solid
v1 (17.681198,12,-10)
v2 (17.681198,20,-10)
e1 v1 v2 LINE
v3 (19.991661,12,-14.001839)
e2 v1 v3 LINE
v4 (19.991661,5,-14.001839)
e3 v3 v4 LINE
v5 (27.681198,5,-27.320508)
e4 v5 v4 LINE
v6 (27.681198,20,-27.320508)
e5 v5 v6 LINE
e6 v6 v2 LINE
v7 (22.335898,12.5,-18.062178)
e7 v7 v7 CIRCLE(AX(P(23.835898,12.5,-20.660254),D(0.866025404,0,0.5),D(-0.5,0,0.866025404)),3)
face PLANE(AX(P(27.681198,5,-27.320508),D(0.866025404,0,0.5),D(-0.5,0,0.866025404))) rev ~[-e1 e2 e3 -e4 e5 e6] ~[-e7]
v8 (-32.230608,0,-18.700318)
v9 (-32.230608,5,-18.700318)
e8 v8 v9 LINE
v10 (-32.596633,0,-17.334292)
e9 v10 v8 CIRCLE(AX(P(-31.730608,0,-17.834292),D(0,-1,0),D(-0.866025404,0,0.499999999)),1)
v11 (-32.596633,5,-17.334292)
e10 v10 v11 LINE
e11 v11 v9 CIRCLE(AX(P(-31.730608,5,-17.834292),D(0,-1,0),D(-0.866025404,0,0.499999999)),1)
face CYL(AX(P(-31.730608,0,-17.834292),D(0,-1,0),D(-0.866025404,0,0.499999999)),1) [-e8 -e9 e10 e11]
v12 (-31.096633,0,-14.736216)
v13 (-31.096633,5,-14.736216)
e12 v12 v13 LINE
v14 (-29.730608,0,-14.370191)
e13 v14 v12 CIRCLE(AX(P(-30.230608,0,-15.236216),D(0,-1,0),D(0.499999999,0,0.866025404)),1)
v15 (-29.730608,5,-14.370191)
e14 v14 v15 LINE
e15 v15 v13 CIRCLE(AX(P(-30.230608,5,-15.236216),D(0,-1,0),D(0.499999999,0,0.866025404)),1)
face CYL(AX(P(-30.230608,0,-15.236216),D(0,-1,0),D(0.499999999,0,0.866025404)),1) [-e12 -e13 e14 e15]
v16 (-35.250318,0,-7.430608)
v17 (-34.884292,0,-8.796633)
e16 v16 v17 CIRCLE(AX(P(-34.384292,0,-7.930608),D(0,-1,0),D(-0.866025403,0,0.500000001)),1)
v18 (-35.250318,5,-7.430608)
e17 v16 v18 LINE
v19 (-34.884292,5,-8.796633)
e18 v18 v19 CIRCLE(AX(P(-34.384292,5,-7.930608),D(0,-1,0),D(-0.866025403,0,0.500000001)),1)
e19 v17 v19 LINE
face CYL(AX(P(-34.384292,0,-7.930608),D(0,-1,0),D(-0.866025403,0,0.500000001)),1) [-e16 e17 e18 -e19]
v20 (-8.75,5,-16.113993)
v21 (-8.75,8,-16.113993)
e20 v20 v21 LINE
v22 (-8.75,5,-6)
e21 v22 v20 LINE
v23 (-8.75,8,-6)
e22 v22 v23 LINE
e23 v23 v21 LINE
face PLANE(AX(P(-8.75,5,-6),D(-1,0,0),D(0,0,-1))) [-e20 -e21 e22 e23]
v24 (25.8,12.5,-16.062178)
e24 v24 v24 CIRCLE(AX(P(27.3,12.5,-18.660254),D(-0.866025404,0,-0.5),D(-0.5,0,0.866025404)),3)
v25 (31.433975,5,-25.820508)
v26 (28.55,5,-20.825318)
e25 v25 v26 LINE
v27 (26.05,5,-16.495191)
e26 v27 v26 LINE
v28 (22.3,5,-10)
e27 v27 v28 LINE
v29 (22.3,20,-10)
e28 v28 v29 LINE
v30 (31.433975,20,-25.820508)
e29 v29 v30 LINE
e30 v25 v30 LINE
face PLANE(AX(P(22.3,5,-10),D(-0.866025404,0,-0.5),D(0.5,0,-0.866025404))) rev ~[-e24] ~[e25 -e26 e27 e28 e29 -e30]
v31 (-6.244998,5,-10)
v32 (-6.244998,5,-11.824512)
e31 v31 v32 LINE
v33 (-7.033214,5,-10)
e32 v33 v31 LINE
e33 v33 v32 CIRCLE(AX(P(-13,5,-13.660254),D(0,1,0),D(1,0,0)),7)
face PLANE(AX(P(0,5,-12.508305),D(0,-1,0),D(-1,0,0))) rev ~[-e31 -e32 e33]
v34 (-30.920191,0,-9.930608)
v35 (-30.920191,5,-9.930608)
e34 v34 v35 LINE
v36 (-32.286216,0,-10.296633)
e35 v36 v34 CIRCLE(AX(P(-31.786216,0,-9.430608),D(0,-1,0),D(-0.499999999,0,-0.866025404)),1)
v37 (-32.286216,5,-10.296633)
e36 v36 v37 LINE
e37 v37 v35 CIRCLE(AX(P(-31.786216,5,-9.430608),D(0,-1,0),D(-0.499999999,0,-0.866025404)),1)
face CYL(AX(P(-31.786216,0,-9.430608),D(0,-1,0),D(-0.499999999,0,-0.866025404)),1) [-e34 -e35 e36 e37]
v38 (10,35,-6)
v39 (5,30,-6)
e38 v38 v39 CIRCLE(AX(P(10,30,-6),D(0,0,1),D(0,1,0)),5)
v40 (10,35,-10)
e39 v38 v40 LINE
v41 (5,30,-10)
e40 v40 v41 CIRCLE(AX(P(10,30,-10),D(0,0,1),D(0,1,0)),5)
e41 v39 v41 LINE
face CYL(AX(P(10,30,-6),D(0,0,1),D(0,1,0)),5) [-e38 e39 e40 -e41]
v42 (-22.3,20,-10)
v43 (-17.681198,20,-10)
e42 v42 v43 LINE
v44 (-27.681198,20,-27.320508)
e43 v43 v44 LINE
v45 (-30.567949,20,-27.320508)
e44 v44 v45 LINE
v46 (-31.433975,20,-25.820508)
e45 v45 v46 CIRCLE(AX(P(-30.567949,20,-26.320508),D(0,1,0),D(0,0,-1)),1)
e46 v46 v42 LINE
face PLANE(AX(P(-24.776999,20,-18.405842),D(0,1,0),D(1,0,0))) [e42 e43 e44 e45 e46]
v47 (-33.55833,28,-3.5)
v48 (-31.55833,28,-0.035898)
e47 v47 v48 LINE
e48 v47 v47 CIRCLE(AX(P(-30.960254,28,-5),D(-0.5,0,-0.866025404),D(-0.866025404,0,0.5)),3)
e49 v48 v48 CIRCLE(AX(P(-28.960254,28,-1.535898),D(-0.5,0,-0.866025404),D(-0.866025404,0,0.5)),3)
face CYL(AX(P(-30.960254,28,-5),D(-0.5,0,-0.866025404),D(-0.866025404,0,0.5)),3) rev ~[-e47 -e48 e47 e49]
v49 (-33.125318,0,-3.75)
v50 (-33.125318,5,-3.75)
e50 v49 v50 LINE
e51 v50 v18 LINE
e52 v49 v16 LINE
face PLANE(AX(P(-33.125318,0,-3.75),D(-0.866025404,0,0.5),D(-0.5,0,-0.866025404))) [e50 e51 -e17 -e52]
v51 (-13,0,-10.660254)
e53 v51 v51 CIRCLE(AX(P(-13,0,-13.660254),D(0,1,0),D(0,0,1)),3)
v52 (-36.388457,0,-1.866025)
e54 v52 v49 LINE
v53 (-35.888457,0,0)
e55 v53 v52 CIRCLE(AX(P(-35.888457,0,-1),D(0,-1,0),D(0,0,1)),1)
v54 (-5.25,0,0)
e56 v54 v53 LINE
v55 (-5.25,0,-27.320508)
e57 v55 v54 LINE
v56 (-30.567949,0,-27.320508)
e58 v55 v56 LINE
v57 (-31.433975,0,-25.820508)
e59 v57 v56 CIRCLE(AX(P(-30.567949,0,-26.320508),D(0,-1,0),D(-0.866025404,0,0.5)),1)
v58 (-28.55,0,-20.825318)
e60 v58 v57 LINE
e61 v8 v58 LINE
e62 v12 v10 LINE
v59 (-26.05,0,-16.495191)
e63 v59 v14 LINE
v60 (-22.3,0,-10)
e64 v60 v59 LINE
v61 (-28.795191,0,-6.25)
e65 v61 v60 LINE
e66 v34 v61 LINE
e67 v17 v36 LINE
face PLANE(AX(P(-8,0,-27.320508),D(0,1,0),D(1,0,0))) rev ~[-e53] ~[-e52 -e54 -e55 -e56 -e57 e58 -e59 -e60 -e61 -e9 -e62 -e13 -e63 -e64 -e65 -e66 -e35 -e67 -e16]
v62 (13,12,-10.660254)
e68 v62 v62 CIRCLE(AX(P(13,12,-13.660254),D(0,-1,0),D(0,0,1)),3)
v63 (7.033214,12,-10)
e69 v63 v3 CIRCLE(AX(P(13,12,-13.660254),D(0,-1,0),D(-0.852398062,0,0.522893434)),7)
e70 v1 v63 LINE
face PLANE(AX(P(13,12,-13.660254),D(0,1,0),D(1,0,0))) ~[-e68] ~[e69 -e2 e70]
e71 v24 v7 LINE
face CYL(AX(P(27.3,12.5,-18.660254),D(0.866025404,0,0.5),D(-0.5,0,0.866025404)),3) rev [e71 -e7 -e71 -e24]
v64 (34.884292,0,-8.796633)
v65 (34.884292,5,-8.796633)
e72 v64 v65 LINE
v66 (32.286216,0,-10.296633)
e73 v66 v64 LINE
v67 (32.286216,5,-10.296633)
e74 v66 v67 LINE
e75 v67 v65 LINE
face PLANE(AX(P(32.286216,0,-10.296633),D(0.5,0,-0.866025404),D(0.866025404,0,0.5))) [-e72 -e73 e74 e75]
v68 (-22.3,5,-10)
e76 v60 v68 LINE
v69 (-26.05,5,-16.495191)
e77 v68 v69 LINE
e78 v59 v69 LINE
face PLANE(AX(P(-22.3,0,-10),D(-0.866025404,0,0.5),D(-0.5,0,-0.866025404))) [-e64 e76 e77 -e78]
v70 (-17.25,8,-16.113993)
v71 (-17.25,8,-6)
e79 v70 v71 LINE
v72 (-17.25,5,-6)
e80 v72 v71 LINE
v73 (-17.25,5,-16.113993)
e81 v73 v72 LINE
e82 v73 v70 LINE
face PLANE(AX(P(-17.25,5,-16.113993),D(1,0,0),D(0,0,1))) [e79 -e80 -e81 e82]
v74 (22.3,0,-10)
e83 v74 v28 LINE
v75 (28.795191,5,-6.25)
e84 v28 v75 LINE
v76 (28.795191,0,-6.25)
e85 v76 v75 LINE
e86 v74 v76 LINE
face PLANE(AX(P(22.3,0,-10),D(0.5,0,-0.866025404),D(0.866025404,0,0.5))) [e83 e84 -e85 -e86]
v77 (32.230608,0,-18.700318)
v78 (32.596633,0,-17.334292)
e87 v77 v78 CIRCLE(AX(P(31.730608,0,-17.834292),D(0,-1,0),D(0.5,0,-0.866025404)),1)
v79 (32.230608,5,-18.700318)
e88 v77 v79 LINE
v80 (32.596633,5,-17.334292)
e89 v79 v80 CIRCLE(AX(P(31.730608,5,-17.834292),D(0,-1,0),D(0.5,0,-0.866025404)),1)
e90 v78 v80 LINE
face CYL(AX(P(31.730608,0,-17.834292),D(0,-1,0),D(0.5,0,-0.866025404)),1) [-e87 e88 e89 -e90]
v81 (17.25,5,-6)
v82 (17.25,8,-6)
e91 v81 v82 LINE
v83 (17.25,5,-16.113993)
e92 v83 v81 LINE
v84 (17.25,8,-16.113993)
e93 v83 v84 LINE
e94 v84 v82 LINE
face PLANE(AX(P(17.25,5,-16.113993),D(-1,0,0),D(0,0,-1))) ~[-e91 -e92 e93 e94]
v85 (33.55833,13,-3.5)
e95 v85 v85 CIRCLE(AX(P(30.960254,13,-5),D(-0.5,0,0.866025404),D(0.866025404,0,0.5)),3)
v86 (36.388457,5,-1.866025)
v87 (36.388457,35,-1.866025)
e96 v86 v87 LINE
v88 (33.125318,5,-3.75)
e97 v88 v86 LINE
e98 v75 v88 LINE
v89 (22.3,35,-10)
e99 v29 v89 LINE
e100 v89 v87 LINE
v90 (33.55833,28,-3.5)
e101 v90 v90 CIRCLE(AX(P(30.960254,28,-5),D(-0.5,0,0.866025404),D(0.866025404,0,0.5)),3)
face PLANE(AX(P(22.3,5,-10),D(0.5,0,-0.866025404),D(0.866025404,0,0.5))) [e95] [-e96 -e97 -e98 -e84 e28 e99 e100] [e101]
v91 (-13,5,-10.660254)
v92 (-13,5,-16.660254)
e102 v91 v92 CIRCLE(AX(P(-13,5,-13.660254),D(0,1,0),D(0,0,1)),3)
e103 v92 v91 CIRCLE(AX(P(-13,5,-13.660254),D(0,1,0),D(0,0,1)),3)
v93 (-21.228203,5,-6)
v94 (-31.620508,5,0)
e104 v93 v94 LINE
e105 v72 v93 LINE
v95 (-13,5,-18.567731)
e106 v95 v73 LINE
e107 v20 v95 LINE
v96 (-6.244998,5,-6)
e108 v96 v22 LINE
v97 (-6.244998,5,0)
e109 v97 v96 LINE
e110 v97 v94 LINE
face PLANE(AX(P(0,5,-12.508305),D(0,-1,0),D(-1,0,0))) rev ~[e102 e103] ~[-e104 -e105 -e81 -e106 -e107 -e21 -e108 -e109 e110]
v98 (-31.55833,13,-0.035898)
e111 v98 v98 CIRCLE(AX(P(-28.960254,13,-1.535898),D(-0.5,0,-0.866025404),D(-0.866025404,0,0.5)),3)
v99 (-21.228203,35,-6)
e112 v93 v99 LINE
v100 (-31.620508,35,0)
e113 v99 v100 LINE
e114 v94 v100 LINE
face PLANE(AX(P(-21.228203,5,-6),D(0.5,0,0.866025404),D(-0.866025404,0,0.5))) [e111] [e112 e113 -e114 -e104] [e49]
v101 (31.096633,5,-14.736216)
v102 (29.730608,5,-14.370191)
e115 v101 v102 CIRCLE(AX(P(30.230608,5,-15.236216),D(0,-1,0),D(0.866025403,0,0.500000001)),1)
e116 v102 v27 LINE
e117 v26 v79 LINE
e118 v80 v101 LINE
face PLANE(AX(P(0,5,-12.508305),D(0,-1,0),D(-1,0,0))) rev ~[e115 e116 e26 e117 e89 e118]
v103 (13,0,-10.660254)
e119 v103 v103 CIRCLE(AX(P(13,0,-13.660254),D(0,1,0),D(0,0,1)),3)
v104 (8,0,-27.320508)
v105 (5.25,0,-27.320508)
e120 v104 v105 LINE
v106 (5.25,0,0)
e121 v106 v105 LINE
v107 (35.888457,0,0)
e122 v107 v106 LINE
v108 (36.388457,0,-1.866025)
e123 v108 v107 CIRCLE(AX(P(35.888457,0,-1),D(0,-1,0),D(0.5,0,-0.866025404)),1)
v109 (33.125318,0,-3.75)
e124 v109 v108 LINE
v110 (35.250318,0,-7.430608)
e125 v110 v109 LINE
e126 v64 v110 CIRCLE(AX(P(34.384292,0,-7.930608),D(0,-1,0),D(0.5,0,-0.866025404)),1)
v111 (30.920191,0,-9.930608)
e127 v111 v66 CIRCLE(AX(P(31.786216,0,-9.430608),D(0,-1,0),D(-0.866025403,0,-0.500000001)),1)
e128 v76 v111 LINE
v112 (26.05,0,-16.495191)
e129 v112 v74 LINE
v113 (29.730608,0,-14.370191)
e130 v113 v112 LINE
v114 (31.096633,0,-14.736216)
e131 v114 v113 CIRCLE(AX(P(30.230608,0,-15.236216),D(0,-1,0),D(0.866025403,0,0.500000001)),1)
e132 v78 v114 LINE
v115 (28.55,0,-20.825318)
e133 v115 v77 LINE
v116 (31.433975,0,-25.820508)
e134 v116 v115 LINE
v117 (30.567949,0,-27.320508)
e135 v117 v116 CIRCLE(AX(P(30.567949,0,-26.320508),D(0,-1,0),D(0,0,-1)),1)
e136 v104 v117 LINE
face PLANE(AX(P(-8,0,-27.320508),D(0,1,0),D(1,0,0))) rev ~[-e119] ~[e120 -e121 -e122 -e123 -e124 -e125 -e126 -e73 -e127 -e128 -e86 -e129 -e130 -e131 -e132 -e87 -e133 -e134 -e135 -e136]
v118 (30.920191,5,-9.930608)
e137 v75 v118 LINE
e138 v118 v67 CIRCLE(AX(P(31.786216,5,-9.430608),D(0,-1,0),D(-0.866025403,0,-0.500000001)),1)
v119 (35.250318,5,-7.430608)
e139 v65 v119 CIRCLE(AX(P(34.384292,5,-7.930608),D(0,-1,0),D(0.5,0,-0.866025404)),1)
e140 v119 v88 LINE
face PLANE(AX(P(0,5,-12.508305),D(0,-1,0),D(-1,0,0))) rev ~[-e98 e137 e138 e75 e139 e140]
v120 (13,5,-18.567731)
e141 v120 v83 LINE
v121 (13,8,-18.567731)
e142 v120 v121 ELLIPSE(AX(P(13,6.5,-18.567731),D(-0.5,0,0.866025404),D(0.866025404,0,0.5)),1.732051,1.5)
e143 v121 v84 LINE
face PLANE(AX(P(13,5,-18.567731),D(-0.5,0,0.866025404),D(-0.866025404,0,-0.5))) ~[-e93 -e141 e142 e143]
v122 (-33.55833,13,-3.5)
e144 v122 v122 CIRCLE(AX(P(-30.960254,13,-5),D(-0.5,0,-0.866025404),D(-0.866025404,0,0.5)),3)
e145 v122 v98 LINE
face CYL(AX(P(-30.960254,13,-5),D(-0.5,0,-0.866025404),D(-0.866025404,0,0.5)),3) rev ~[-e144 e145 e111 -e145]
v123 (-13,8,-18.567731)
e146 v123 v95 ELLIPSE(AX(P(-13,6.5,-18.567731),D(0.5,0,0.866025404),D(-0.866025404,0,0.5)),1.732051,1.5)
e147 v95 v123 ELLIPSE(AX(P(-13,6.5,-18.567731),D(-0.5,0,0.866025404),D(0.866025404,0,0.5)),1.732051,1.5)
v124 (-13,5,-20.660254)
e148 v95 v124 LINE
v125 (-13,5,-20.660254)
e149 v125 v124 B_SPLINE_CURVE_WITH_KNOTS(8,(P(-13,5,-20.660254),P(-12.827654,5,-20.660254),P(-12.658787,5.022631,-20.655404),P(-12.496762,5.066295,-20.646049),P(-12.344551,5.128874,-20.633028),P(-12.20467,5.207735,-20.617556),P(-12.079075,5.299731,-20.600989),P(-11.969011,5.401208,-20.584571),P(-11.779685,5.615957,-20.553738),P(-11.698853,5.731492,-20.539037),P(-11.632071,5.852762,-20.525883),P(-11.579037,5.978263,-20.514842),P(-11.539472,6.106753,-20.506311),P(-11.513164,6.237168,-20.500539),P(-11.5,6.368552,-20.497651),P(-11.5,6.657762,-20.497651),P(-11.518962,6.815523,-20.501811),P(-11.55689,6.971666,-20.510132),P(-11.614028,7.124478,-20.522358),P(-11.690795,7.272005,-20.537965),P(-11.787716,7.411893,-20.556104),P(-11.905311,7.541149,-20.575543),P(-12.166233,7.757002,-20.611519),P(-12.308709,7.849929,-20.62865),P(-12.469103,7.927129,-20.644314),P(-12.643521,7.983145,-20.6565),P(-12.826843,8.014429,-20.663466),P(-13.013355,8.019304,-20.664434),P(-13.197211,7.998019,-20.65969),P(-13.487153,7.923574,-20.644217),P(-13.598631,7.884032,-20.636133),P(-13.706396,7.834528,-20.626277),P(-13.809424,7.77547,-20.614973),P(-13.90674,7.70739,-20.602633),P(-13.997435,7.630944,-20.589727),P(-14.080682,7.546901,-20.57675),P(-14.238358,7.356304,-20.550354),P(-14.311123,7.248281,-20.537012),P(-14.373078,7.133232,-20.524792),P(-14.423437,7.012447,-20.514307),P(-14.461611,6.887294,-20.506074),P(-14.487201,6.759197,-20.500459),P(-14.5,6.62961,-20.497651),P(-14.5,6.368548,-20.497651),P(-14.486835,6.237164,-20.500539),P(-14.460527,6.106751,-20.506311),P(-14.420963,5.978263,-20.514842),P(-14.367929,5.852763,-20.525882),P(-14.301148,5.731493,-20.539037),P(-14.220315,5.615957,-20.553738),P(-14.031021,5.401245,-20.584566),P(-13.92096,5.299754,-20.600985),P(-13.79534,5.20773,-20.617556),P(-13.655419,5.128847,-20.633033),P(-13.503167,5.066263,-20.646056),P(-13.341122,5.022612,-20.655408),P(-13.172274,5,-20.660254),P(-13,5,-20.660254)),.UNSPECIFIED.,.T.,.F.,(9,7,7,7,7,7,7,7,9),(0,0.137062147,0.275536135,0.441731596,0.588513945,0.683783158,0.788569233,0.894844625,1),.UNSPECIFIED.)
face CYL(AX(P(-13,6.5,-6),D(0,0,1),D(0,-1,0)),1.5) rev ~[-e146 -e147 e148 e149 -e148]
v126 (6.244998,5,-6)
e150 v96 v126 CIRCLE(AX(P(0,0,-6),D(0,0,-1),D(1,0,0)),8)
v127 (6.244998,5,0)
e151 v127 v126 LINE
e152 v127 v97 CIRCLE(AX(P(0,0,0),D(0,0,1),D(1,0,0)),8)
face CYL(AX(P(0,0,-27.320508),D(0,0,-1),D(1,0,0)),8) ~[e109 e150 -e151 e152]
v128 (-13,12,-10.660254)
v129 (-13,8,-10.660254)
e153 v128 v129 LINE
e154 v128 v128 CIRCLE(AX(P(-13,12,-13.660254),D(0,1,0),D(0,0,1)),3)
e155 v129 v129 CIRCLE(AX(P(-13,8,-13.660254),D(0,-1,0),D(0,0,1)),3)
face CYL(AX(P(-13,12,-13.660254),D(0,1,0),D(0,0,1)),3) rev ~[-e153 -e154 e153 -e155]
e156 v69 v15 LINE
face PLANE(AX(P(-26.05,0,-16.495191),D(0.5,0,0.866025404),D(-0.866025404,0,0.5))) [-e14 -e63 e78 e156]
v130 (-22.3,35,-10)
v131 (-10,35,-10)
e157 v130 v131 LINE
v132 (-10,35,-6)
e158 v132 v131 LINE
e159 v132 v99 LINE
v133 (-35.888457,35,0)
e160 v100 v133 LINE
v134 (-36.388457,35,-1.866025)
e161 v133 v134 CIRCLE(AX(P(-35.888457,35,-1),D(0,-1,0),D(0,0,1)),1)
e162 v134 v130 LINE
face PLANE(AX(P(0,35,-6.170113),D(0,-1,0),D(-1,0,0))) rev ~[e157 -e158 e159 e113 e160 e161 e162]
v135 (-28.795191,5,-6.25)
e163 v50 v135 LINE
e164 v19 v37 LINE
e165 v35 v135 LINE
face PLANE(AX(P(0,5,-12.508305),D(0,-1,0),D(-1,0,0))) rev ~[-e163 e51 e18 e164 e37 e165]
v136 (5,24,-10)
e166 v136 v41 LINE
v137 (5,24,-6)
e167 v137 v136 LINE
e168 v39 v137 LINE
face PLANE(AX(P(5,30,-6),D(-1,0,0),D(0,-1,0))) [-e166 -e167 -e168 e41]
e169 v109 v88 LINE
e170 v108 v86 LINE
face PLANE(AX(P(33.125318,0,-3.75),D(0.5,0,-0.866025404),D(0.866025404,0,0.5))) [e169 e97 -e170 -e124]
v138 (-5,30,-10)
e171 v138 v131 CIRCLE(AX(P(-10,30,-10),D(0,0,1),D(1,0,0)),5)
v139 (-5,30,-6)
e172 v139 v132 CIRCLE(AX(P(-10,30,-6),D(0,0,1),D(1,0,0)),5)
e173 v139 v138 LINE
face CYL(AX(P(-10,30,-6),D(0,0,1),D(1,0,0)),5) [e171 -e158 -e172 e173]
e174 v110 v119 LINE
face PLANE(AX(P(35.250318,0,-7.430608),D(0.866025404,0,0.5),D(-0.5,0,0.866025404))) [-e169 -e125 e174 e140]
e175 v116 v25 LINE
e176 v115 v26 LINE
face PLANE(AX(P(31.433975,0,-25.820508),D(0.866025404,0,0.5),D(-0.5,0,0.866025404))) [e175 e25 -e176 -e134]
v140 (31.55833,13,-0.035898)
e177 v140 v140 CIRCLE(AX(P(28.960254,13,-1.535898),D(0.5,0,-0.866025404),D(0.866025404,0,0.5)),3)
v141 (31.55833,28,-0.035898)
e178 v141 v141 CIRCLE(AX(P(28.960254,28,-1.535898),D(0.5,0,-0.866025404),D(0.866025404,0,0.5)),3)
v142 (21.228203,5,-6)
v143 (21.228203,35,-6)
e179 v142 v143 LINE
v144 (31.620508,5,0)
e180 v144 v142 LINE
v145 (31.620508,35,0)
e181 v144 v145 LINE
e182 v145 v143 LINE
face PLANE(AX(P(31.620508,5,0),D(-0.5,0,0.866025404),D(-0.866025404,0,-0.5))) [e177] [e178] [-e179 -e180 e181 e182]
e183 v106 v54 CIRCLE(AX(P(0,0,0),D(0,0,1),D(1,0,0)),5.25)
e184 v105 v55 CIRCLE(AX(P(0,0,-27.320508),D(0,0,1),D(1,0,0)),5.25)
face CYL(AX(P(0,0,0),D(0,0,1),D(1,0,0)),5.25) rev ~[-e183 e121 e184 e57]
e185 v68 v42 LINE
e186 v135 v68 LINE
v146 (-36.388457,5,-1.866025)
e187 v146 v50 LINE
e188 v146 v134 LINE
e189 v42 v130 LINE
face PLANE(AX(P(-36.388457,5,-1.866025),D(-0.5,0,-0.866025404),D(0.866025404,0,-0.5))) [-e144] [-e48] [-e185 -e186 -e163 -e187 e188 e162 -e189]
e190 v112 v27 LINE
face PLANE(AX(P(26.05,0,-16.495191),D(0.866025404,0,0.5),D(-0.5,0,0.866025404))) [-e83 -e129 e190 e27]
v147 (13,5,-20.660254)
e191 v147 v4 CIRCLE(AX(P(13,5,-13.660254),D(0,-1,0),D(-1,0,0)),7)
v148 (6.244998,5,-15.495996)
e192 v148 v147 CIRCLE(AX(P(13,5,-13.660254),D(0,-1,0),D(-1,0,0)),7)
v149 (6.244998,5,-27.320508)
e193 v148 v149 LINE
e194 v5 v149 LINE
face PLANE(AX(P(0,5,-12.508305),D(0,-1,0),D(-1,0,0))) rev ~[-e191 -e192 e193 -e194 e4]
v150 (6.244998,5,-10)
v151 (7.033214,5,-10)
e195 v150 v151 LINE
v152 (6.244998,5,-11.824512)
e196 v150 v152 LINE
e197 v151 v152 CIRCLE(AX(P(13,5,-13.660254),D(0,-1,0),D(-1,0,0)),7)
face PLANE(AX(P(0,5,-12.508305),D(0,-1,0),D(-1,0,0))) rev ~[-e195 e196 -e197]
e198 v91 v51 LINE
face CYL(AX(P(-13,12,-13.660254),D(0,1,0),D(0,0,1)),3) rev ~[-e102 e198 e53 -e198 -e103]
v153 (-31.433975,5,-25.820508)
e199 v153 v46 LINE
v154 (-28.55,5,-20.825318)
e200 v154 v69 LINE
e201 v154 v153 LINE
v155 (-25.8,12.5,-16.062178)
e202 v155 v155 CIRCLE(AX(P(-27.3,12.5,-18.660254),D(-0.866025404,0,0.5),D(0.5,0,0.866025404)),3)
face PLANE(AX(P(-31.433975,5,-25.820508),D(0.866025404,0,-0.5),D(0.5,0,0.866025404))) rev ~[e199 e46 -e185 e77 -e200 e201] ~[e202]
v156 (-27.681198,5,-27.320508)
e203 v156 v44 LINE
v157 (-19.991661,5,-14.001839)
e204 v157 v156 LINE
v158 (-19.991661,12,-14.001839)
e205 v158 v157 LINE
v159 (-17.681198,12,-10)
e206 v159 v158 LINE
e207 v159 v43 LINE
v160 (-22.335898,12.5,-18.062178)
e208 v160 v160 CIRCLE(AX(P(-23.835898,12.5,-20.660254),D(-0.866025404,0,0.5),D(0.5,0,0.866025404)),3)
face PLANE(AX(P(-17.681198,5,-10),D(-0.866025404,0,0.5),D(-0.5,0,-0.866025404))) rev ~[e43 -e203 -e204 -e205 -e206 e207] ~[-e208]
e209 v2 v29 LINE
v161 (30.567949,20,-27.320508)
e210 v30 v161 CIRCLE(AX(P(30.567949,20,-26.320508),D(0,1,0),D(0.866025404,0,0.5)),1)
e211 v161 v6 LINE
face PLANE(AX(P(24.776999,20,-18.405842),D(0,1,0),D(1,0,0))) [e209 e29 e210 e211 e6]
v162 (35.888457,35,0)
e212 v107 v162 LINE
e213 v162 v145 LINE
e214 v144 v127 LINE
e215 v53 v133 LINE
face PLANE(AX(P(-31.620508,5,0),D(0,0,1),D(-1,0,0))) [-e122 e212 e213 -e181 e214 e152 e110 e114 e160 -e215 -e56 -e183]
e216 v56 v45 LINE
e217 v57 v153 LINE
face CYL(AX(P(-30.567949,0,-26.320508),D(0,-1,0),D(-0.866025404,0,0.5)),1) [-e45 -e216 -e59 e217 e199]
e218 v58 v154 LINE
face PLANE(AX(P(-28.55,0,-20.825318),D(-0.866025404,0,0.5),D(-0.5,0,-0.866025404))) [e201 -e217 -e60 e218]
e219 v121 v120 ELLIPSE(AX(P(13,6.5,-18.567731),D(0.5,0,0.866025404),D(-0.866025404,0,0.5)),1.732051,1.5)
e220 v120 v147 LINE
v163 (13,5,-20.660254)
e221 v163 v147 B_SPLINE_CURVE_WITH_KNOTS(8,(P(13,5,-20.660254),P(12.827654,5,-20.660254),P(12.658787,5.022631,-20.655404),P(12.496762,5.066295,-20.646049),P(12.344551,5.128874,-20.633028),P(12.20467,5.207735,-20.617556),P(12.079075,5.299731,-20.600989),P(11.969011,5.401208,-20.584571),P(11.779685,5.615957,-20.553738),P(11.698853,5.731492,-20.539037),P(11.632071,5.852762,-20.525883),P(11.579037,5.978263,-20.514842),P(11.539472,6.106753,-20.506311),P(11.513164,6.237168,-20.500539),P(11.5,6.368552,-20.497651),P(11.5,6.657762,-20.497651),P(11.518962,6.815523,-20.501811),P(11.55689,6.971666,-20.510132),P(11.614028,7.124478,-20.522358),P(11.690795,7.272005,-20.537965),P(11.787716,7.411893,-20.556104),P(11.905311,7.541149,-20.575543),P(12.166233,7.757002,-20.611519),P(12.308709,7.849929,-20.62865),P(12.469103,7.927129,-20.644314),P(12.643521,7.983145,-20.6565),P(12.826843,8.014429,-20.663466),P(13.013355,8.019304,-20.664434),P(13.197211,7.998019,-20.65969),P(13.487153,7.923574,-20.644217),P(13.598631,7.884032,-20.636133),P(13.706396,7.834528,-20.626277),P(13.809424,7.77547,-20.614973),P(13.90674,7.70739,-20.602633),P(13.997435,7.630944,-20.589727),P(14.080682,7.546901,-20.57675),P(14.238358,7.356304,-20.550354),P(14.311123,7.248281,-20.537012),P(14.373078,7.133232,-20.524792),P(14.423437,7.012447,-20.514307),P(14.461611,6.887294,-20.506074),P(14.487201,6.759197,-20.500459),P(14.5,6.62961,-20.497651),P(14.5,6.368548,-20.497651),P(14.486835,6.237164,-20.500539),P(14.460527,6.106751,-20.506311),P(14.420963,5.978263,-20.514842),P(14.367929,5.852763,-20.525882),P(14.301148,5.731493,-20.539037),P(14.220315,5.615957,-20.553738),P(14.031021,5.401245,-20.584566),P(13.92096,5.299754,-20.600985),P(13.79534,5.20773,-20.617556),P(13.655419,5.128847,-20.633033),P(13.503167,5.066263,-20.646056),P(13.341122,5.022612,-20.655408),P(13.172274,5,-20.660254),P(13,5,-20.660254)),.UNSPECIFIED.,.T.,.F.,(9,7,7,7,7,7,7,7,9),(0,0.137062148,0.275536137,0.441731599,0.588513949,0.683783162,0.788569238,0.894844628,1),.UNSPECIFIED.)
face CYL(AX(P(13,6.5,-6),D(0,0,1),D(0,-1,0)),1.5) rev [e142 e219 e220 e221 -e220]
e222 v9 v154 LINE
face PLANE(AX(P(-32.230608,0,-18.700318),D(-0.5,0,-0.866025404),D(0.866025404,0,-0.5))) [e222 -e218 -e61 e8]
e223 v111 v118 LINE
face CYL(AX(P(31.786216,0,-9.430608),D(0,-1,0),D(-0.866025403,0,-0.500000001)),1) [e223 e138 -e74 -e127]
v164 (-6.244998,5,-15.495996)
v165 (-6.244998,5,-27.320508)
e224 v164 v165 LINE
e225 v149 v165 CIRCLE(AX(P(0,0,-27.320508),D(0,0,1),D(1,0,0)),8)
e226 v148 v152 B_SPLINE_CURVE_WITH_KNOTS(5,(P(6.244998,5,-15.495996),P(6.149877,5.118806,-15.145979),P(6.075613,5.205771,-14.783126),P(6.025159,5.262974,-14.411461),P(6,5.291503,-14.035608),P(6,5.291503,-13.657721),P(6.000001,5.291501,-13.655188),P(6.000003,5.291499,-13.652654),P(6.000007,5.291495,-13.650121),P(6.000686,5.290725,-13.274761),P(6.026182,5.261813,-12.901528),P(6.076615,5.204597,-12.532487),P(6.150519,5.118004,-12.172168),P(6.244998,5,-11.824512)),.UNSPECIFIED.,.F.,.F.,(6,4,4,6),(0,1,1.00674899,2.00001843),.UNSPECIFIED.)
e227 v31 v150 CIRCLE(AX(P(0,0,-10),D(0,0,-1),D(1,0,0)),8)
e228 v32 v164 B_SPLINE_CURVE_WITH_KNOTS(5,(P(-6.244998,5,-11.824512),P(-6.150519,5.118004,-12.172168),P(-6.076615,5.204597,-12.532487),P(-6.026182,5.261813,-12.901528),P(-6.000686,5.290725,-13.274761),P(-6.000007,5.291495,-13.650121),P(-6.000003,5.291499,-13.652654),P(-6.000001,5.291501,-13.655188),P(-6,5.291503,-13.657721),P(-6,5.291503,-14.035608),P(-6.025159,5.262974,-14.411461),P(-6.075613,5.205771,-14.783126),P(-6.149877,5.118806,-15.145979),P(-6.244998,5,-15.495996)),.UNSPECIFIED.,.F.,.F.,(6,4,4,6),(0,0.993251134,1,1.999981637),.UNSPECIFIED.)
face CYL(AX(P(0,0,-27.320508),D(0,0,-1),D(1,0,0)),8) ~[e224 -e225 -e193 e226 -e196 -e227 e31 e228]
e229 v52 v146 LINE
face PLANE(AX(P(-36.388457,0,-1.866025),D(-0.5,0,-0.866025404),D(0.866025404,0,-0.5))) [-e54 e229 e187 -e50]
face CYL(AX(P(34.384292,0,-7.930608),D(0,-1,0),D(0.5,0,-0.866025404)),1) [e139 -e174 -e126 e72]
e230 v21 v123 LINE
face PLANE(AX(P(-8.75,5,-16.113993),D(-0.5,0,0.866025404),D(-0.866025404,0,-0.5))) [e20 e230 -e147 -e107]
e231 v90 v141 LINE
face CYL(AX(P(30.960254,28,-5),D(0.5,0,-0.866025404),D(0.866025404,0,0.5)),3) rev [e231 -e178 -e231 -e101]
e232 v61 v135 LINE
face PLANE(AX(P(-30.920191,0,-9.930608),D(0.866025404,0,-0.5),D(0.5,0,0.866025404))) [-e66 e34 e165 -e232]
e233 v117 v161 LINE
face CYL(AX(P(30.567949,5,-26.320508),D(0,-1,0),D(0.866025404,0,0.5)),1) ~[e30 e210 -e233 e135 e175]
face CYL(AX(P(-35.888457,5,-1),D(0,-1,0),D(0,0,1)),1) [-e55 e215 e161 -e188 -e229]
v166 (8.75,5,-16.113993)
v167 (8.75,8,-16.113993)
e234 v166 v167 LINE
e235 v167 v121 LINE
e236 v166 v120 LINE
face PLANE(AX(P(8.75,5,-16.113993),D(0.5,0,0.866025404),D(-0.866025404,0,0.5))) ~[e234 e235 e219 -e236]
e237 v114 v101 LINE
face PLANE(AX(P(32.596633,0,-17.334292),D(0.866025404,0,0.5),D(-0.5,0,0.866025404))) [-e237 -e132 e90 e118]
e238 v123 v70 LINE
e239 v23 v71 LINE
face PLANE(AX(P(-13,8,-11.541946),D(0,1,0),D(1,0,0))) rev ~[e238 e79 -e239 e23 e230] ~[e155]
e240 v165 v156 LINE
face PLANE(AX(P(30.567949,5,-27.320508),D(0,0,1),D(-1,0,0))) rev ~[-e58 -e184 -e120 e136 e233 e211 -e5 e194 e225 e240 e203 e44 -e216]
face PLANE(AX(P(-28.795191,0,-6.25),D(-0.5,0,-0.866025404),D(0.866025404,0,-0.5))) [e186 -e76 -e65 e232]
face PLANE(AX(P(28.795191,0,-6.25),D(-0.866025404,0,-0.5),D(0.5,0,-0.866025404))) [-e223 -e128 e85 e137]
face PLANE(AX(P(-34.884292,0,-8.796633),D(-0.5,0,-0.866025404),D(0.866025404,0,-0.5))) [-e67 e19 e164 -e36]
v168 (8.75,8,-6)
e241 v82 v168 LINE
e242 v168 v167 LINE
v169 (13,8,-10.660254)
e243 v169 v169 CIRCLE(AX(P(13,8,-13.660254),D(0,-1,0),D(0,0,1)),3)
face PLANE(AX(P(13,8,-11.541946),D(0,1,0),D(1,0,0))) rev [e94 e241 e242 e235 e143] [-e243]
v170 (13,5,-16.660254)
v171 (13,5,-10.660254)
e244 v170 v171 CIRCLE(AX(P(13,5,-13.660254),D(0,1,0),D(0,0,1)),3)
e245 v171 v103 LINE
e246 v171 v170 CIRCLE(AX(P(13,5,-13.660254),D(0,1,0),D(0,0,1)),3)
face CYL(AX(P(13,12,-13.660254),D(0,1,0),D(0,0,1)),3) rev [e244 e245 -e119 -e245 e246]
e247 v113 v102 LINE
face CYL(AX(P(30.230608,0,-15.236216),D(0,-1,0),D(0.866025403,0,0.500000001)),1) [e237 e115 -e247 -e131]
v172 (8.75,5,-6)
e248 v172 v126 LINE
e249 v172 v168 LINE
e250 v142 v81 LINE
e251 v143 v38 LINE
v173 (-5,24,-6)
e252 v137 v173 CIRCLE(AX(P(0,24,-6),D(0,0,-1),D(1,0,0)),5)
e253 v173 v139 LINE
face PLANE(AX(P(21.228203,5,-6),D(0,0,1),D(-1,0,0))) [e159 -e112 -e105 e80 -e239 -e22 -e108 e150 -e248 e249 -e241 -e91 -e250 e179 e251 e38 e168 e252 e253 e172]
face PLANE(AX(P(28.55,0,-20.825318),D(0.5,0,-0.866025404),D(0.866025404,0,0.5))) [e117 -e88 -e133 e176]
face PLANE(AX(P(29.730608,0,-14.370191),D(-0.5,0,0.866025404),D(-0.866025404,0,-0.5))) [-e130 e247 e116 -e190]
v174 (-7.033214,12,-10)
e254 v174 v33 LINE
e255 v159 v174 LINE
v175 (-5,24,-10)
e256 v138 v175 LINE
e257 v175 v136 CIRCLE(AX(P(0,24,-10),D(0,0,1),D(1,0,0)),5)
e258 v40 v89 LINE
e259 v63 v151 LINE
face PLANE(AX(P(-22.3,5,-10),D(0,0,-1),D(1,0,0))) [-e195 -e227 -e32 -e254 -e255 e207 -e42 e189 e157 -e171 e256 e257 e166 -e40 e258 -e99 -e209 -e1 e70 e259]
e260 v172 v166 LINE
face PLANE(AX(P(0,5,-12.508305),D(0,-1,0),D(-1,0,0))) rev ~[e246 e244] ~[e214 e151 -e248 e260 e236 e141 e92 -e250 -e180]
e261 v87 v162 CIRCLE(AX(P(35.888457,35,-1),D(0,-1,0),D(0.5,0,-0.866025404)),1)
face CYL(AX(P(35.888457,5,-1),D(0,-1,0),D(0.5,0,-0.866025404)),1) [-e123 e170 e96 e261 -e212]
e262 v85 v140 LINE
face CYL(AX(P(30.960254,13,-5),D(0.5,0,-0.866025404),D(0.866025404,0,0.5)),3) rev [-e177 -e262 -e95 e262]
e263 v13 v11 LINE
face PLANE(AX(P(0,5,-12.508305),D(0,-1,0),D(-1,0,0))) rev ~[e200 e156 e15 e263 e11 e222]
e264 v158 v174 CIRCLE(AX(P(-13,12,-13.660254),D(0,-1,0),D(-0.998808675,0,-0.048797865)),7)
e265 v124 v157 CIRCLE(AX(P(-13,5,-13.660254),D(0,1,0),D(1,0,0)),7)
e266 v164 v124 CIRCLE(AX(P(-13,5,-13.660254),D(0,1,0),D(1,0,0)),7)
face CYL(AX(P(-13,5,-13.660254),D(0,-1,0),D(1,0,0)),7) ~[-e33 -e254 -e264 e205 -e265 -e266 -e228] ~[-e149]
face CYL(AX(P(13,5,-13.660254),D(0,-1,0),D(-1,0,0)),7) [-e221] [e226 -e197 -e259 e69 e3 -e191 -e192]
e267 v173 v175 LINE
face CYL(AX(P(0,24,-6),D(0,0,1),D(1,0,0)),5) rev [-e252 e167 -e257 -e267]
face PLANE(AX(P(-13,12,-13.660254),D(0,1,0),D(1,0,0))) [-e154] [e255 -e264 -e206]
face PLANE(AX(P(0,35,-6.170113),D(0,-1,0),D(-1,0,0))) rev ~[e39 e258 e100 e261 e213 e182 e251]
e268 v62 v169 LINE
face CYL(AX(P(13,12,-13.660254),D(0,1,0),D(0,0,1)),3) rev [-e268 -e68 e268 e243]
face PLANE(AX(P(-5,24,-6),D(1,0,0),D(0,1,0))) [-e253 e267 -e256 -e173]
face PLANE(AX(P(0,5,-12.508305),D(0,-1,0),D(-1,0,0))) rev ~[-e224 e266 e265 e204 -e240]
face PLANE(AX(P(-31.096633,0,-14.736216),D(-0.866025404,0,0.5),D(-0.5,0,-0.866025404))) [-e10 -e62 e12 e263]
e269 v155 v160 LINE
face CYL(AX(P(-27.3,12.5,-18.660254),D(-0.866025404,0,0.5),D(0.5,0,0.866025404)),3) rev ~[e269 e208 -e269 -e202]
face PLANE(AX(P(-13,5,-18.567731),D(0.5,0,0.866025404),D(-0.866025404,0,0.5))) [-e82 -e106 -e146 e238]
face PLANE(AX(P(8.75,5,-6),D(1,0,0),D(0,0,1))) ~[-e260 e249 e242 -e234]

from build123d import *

# Parameters (mm, degrees)
BOSS_EXTRUDE1_DEPTH = 5
BOSS_EXTRUDE2_DEPTH = 30
BOSS_EXTRUDE3_DEPTH = 15
BOSS_EXTRUDE4_START = -27.320508
BOSS_EXTRUDE4_DEPTH = 27.320508
SKETCH6_R           = 5.25
CUT_EXTRUDE1_DEPTH  = 58.724937775
CUT_EXTRUDE2_DEPTH  = 56.139118094
SKETCH8_R           = 3
CUT_EXTRUDE3_DEPTH  = 61.901347721
SKETCH9_R           = 3
CUT_EXTRUDE4_DEPTH  = 70.587993831
SKETCH10_R          = 7
BOSS_EXTRUDE5_DEPTH = 7
SKETCH11_R          = 3
CUT_EXTRUDE5_DEPTH  = 52.343631003
CUT_EXTRUDE6_DEPTH  = 3
SKETCH14_R          = 1.5
CUT_EXTRUDE7_DEPTH  = 56.139118118


with BuildPart() as part:
    # Sketch2 → Boss-Extrude1 (new body)
    with BuildSketch(Plane(origin=(0, 0, 0), x_dir=(1, 0, 0), z_dir=(0, 1, 0))):
        with BuildLine():
            Line((-30.567949192, 27.320508076), (30.567949192, 27.320508076))
            ThreePointArc((30.567949192, 27.320508076), (31.433974596, 26.820508076), (31.433974596, 25.820508076))
            Line((31.433974596, 25.820508076), (28.55, 20.825317547))
            Line((28.55, 20.825317547), (32.230607966, 18.700317547))
            ThreePointArc((32.230607966, 18.700317547), (32.696533792, 18.093111189), (32.59663337, 17.334292144))
            Line((32.59663337, 17.334292144), (31.09663337, 14.736215932))
            ThreePointArc((31.09663337, 14.736215932), (30.489427011, 14.270290106), (29.730607966, 14.370190528))
            Line((29.730607966, 14.370190528), (26.05, 16.495190528))
            Line((26.05, 16.495190528), (22.3, 10))
            Line((22.3, 10), (28.795190528, 6.25))
            Line((28.795190528, 6.25), (30.920190528, 9.930607966))
            ThreePointArc((30.920190528, 9.930607966), (31.527396887, 10.396533792), (32.286215932, 10.29663337))
            Line((32.286215932, 10.29663337), (34.884292144, 8.79663337))
            ThreePointArc((34.884292144, 8.79663337), (35.35021797, 8.189427011), (35.250317547, 7.430607966))
            Line((35.250317547, 7.430607966), (33.125317547, 3.75))
            Line((33.125317547, 3.75), (36.388457268, 1.866025404))
            ThreePointArc((36.388457268, 1.866025404), (36.854383094, 0.741180955), (35.888457268, 0))
            Line((35.888457268, 0), (-35.888457268, 0))
            ThreePointArc((-35.888457268, 0), (-36.854383094, 0.741180955), (-36.388457268, 1.866025404))
            Line((-36.388457268, 1.866025404), (-33.125317547, 3.75))
            Line((-33.125317547, 3.75), (-35.250317547, 7.430607966))
            ThreePointArc((-35.250317547, 7.430607966), (-35.35021797, 8.189427011), (-34.884292144, 8.79663337))
            Line((-34.884292144, 8.79663337), (-32.286215932, 10.29663337))
            ThreePointArc((-32.286215932, 10.29663337), (-31.527396887, 10.396533792), (-30.920190528, 9.930607966))
            Line((-30.920190528, 9.930607966), (-28.795190528, 6.25))
            Line((-28.795190528, 6.25), (-22.3, 10))
            Line((-22.3, 10), (-26.05, 16.495190528))
            Line((-26.05, 16.495190528), (-29.730607966, 14.370190528))
            ThreePointArc((-29.730607966, 14.370190528), (-30.489427011, 14.270290106), (-31.09663337, 14.736215932))
            Line((-31.09663337, 14.736215932), (-32.59663337, 17.334292144))
            ThreePointArc((-32.59663337, 17.334292144), (-32.696533792, 18.093111189), (-32.230607966, 18.700317547))
            Line((-32.230607966, 18.700317547), (-28.55, 20.825317547))
            Line((-28.55, 20.825317547), (-31.433974596, 25.820508076))
            ThreePointArc((-31.433974596, 25.820508076), (-31.433974596, 26.820508076), (-30.567949192, 27.320508076))
        make_face()
    extrude(amount=BOSS_EXTRUDE1_DEPTH)

    # Sketch3 → Boss-Extrude2 (add)
    with BuildSketch(Plane(origin=(0, 5, 0), x_dir=(1, 0, 0), z_dir=(0, 1, 0))):
        with BuildLine():
            Line((-36.388457268, 1.866025404), (-22.3, 10))
            Line((-22.3, 10), (22.3, 10))
            Line((22.3, 10), (36.388457268, 1.866025404))
            ThreePointArc((36.388457268, 1.866025404), (36.854383094, 0.741180955), (35.888457268, 0))
            Line((35.888457268, 0), (31.620508076, 0))
            Line((31.620508076, 0), (21.22820323, 6))
            Line((21.22820323, 6), (-21.22820323, 6))
            Line((-21.22820323, 6), (-31.620508076, 0))
            Line((-31.620508076, 0), (-35.888457268, 0))
            ThreePointArc((-35.888457268, 0), (-36.854383094, 0.741180955), (-36.388457268, 1.866025404))
        make_face()
    extrude(amount=BOSS_EXTRUDE2_DEPTH)

    # Sketch4 → Boss-Extrude3 (add)
    with BuildSketch(Plane(origin=(0, 5, 0), x_dir=(1, 0, 0), z_dir=(0, 1, 0))):
        with BuildLine():
            Line((22.3, 10), (31.433974596, 25.820508076))
            ThreePointArc((31.433974596, 25.820508076), (31.433974596, 26.820508076), (30.567949192, 27.320508076))
            Line((30.567949192, 27.320508076), (27.681197846, 27.320508076))
            Line((27.681197846, 27.320508076), (17.681197846, 10))
            Line((17.681197846, 10), (22.3, 10))
        make_face()
        with BuildLine():
            Line((-27.681197846, 27.320508076), (-30.567949192, 27.320508076))
            ThreePointArc((-30.567949192, 27.320508076), (-31.433974596, 26.820508076), (-31.433974596, 25.820508076))
            Line((-31.433974596, 25.820508076), (-22.3, 10))
            Line((-22.3, 10), (-17.681197846, 10))
            Line((-17.681197846, 10), (-27.681197846, 27.320508076))
        make_face()
    extrude(amount=BOSS_EXTRUDE3_DEPTH)

    # Sketch5 → Boss-Extrude4 (add)
    with BuildSketch(Plane.XY.offset(BOSS_EXTRUDE4_START)):
        with BuildLine():
            Line((-8, 0), (8, 0))
            ThreePointArc((8, 0), (0, 8), (-8, 0))
        make_face()
    extrude(amount=BOSS_EXTRUDE4_DEPTH)

    # Sketch6 → Cut-Extrude1 (cut, through all)
    with BuildSketch(Plane.XY):
        Circle(SKETCH6_R)
    extrude(amount=-CUT_EXTRUDE1_DEPTH, mode=Mode.SUBTRACT)

    # Sketch7 → Cut-Extrude2 (cut, through all)
    with BuildSketch(Plane.XY.offset(-6)):
        with BuildLine():
            Line((-10, 35), (10, 35))
            ThreePointArc((10, 35), (6.464466094, 33.535533906), (5, 30))
            Line((5, 30), (5, 24))
            ThreePointArc((5, 24), (0, 19), (-5, 24))
            Line((-5, 24), (-5, 30))
            ThreePointArc((-5, 30), (-6.464466094, 33.535533906), (-10, 35))
        make_face()
    extrude(amount=-CUT_EXTRUDE2_DEPTH, mode=Mode.SUBTRACT)

    # Sketch8 → Cut-Extrude3 (cut, through all)
    with BuildSketch(Plane(origin=(-9.905127019, 0, -17.156183252), x_dir=(-0.8660254037844285, 0, 0.5000000000000177), z_dir=(-0.5000000000000177, 0, -0.8660254037844285))):
        with Locations((24.312366504, 28)):
            Circle(SKETCH8_R)
        with Locations((24.312366504, 13)):
            Circle(SKETCH8_R)
    cut_extrude3 = extrude(amount=-CUT_EXTRUDE3_DEPTH, mode=Mode.SUBTRACT)

    # Sketch9 → Cut-Extrude4 (cut, through all)
    with BuildSketch(Plane(origin=(-12.394872981, 0, 7.156183252), x_dir=(0.5000000000000591, 0, 0.8660254037844046), z_dir=(-0.8660254037844046, 0, 0.5000000000000591))):
        with Locations((-29.810254038, 12.5)):
            Circle(SKETCH9_R)
    cut_extrude4 = extrude(amount=-CUT_EXTRUDE4_DEPTH, mode=Mode.SUBTRACT)

    # Sketch10 → Boss-Extrude5 (add)
    with BuildSketch(Plane(origin=(0, 5, 0), x_dir=(1, 0, 0), z_dir=(0, 1, 0))):
        with Locations((-13, 13.660254038)):
            Circle(SKETCH10_R)
    boss_extrude5 = extrude(amount=BOSS_EXTRUDE5_DEPTH)

    # Sketch11 → Cut-Extrude5 (cut, through all)
    with BuildSketch(Plane(origin=(0, 12, 0), x_dir=(1, 0, 0), z_dir=(0, 1, 0))):
        with Locations(Location((-13, 13.660254038, 0), (0, 0, 270))):
            Circle(SKETCH11_R)
    cut_extrude5 = extrude(amount=-CUT_EXTRUDE5_DEPTH, mode=Mode.SUBTRACT)

    # Sketch13 → Cut-Extrude6 (cut)
    with BuildSketch(Plane(origin=(0, 5, 0), x_dir=(1, 0, 0), z_dir=(0, 1, 0))):
        Polygon((-17.25, 11.206515394), (-17.25, 6), (-8.75, 6), (-8.75, 11.206515394), (-8.75, 16.113992682), (-13, 18.567731326), (-17.25, 16.113992682), align=None)
    cut_extrude6 = extrude(amount=CUT_EXTRUDE6_DEPTH, mode=Mode.SUBTRACT)

    # Sketch14 → Cut-Extrude7 (cut, through all)
    with BuildSketch(Plane.XY.offset(-6)):
        with Locations(Location((-13, 6.5, 0), (0, 0, 270))):
            Circle(SKETCH14_R)
    cut_extrude7 = extrude(amount=-CUT_EXTRUDE7_DEPTH, mode=Mode.SUBTRACT)

    # Mirror1: Cut-Extrude3, Cut-Extrude4, Boss-Extrude5, Cut-Extrude5, Cut-Extrude6, Cut-Extrude7 across plane
    add(cut_extrude3.mirror(Plane(origin=(0, 0, 0), x_dir=(0, 0, 1), z_dir=(1, 0, 0))), mode=Mode.SUBTRACT)
    add(cut_extrude4.mirror(Plane(origin=(0, 0, 0), x_dir=(0, 0, 1), z_dir=(1, 0, 0))), mode=Mode.SUBTRACT)
    add(boss_extrude5.mirror(Plane(origin=(0, 0, 0), x_dir=(0, 0, 1), z_dir=(1, 0, 0))))
    add(cut_extrude5.mirror(Plane(origin=(0, 0, 0), x_dir=(0, 0, 1), z_dir=(1, 0, 0))), mode=Mode.SUBTRACT)
    add(cut_extrude6.mirror(Plane(origin=(0, 0, 0), x_dir=(0, 0, 1), z_dir=(1, 0, 0))), mode=Mode.SUBTRACT)
    add(cut_extrude7.mirror(Plane(origin=(0, 0, 0), x_dir=(0, 0, 1), z_dir=(1, 0, 0))), mode=Mode.SUBTRACT)


solid = part.part
